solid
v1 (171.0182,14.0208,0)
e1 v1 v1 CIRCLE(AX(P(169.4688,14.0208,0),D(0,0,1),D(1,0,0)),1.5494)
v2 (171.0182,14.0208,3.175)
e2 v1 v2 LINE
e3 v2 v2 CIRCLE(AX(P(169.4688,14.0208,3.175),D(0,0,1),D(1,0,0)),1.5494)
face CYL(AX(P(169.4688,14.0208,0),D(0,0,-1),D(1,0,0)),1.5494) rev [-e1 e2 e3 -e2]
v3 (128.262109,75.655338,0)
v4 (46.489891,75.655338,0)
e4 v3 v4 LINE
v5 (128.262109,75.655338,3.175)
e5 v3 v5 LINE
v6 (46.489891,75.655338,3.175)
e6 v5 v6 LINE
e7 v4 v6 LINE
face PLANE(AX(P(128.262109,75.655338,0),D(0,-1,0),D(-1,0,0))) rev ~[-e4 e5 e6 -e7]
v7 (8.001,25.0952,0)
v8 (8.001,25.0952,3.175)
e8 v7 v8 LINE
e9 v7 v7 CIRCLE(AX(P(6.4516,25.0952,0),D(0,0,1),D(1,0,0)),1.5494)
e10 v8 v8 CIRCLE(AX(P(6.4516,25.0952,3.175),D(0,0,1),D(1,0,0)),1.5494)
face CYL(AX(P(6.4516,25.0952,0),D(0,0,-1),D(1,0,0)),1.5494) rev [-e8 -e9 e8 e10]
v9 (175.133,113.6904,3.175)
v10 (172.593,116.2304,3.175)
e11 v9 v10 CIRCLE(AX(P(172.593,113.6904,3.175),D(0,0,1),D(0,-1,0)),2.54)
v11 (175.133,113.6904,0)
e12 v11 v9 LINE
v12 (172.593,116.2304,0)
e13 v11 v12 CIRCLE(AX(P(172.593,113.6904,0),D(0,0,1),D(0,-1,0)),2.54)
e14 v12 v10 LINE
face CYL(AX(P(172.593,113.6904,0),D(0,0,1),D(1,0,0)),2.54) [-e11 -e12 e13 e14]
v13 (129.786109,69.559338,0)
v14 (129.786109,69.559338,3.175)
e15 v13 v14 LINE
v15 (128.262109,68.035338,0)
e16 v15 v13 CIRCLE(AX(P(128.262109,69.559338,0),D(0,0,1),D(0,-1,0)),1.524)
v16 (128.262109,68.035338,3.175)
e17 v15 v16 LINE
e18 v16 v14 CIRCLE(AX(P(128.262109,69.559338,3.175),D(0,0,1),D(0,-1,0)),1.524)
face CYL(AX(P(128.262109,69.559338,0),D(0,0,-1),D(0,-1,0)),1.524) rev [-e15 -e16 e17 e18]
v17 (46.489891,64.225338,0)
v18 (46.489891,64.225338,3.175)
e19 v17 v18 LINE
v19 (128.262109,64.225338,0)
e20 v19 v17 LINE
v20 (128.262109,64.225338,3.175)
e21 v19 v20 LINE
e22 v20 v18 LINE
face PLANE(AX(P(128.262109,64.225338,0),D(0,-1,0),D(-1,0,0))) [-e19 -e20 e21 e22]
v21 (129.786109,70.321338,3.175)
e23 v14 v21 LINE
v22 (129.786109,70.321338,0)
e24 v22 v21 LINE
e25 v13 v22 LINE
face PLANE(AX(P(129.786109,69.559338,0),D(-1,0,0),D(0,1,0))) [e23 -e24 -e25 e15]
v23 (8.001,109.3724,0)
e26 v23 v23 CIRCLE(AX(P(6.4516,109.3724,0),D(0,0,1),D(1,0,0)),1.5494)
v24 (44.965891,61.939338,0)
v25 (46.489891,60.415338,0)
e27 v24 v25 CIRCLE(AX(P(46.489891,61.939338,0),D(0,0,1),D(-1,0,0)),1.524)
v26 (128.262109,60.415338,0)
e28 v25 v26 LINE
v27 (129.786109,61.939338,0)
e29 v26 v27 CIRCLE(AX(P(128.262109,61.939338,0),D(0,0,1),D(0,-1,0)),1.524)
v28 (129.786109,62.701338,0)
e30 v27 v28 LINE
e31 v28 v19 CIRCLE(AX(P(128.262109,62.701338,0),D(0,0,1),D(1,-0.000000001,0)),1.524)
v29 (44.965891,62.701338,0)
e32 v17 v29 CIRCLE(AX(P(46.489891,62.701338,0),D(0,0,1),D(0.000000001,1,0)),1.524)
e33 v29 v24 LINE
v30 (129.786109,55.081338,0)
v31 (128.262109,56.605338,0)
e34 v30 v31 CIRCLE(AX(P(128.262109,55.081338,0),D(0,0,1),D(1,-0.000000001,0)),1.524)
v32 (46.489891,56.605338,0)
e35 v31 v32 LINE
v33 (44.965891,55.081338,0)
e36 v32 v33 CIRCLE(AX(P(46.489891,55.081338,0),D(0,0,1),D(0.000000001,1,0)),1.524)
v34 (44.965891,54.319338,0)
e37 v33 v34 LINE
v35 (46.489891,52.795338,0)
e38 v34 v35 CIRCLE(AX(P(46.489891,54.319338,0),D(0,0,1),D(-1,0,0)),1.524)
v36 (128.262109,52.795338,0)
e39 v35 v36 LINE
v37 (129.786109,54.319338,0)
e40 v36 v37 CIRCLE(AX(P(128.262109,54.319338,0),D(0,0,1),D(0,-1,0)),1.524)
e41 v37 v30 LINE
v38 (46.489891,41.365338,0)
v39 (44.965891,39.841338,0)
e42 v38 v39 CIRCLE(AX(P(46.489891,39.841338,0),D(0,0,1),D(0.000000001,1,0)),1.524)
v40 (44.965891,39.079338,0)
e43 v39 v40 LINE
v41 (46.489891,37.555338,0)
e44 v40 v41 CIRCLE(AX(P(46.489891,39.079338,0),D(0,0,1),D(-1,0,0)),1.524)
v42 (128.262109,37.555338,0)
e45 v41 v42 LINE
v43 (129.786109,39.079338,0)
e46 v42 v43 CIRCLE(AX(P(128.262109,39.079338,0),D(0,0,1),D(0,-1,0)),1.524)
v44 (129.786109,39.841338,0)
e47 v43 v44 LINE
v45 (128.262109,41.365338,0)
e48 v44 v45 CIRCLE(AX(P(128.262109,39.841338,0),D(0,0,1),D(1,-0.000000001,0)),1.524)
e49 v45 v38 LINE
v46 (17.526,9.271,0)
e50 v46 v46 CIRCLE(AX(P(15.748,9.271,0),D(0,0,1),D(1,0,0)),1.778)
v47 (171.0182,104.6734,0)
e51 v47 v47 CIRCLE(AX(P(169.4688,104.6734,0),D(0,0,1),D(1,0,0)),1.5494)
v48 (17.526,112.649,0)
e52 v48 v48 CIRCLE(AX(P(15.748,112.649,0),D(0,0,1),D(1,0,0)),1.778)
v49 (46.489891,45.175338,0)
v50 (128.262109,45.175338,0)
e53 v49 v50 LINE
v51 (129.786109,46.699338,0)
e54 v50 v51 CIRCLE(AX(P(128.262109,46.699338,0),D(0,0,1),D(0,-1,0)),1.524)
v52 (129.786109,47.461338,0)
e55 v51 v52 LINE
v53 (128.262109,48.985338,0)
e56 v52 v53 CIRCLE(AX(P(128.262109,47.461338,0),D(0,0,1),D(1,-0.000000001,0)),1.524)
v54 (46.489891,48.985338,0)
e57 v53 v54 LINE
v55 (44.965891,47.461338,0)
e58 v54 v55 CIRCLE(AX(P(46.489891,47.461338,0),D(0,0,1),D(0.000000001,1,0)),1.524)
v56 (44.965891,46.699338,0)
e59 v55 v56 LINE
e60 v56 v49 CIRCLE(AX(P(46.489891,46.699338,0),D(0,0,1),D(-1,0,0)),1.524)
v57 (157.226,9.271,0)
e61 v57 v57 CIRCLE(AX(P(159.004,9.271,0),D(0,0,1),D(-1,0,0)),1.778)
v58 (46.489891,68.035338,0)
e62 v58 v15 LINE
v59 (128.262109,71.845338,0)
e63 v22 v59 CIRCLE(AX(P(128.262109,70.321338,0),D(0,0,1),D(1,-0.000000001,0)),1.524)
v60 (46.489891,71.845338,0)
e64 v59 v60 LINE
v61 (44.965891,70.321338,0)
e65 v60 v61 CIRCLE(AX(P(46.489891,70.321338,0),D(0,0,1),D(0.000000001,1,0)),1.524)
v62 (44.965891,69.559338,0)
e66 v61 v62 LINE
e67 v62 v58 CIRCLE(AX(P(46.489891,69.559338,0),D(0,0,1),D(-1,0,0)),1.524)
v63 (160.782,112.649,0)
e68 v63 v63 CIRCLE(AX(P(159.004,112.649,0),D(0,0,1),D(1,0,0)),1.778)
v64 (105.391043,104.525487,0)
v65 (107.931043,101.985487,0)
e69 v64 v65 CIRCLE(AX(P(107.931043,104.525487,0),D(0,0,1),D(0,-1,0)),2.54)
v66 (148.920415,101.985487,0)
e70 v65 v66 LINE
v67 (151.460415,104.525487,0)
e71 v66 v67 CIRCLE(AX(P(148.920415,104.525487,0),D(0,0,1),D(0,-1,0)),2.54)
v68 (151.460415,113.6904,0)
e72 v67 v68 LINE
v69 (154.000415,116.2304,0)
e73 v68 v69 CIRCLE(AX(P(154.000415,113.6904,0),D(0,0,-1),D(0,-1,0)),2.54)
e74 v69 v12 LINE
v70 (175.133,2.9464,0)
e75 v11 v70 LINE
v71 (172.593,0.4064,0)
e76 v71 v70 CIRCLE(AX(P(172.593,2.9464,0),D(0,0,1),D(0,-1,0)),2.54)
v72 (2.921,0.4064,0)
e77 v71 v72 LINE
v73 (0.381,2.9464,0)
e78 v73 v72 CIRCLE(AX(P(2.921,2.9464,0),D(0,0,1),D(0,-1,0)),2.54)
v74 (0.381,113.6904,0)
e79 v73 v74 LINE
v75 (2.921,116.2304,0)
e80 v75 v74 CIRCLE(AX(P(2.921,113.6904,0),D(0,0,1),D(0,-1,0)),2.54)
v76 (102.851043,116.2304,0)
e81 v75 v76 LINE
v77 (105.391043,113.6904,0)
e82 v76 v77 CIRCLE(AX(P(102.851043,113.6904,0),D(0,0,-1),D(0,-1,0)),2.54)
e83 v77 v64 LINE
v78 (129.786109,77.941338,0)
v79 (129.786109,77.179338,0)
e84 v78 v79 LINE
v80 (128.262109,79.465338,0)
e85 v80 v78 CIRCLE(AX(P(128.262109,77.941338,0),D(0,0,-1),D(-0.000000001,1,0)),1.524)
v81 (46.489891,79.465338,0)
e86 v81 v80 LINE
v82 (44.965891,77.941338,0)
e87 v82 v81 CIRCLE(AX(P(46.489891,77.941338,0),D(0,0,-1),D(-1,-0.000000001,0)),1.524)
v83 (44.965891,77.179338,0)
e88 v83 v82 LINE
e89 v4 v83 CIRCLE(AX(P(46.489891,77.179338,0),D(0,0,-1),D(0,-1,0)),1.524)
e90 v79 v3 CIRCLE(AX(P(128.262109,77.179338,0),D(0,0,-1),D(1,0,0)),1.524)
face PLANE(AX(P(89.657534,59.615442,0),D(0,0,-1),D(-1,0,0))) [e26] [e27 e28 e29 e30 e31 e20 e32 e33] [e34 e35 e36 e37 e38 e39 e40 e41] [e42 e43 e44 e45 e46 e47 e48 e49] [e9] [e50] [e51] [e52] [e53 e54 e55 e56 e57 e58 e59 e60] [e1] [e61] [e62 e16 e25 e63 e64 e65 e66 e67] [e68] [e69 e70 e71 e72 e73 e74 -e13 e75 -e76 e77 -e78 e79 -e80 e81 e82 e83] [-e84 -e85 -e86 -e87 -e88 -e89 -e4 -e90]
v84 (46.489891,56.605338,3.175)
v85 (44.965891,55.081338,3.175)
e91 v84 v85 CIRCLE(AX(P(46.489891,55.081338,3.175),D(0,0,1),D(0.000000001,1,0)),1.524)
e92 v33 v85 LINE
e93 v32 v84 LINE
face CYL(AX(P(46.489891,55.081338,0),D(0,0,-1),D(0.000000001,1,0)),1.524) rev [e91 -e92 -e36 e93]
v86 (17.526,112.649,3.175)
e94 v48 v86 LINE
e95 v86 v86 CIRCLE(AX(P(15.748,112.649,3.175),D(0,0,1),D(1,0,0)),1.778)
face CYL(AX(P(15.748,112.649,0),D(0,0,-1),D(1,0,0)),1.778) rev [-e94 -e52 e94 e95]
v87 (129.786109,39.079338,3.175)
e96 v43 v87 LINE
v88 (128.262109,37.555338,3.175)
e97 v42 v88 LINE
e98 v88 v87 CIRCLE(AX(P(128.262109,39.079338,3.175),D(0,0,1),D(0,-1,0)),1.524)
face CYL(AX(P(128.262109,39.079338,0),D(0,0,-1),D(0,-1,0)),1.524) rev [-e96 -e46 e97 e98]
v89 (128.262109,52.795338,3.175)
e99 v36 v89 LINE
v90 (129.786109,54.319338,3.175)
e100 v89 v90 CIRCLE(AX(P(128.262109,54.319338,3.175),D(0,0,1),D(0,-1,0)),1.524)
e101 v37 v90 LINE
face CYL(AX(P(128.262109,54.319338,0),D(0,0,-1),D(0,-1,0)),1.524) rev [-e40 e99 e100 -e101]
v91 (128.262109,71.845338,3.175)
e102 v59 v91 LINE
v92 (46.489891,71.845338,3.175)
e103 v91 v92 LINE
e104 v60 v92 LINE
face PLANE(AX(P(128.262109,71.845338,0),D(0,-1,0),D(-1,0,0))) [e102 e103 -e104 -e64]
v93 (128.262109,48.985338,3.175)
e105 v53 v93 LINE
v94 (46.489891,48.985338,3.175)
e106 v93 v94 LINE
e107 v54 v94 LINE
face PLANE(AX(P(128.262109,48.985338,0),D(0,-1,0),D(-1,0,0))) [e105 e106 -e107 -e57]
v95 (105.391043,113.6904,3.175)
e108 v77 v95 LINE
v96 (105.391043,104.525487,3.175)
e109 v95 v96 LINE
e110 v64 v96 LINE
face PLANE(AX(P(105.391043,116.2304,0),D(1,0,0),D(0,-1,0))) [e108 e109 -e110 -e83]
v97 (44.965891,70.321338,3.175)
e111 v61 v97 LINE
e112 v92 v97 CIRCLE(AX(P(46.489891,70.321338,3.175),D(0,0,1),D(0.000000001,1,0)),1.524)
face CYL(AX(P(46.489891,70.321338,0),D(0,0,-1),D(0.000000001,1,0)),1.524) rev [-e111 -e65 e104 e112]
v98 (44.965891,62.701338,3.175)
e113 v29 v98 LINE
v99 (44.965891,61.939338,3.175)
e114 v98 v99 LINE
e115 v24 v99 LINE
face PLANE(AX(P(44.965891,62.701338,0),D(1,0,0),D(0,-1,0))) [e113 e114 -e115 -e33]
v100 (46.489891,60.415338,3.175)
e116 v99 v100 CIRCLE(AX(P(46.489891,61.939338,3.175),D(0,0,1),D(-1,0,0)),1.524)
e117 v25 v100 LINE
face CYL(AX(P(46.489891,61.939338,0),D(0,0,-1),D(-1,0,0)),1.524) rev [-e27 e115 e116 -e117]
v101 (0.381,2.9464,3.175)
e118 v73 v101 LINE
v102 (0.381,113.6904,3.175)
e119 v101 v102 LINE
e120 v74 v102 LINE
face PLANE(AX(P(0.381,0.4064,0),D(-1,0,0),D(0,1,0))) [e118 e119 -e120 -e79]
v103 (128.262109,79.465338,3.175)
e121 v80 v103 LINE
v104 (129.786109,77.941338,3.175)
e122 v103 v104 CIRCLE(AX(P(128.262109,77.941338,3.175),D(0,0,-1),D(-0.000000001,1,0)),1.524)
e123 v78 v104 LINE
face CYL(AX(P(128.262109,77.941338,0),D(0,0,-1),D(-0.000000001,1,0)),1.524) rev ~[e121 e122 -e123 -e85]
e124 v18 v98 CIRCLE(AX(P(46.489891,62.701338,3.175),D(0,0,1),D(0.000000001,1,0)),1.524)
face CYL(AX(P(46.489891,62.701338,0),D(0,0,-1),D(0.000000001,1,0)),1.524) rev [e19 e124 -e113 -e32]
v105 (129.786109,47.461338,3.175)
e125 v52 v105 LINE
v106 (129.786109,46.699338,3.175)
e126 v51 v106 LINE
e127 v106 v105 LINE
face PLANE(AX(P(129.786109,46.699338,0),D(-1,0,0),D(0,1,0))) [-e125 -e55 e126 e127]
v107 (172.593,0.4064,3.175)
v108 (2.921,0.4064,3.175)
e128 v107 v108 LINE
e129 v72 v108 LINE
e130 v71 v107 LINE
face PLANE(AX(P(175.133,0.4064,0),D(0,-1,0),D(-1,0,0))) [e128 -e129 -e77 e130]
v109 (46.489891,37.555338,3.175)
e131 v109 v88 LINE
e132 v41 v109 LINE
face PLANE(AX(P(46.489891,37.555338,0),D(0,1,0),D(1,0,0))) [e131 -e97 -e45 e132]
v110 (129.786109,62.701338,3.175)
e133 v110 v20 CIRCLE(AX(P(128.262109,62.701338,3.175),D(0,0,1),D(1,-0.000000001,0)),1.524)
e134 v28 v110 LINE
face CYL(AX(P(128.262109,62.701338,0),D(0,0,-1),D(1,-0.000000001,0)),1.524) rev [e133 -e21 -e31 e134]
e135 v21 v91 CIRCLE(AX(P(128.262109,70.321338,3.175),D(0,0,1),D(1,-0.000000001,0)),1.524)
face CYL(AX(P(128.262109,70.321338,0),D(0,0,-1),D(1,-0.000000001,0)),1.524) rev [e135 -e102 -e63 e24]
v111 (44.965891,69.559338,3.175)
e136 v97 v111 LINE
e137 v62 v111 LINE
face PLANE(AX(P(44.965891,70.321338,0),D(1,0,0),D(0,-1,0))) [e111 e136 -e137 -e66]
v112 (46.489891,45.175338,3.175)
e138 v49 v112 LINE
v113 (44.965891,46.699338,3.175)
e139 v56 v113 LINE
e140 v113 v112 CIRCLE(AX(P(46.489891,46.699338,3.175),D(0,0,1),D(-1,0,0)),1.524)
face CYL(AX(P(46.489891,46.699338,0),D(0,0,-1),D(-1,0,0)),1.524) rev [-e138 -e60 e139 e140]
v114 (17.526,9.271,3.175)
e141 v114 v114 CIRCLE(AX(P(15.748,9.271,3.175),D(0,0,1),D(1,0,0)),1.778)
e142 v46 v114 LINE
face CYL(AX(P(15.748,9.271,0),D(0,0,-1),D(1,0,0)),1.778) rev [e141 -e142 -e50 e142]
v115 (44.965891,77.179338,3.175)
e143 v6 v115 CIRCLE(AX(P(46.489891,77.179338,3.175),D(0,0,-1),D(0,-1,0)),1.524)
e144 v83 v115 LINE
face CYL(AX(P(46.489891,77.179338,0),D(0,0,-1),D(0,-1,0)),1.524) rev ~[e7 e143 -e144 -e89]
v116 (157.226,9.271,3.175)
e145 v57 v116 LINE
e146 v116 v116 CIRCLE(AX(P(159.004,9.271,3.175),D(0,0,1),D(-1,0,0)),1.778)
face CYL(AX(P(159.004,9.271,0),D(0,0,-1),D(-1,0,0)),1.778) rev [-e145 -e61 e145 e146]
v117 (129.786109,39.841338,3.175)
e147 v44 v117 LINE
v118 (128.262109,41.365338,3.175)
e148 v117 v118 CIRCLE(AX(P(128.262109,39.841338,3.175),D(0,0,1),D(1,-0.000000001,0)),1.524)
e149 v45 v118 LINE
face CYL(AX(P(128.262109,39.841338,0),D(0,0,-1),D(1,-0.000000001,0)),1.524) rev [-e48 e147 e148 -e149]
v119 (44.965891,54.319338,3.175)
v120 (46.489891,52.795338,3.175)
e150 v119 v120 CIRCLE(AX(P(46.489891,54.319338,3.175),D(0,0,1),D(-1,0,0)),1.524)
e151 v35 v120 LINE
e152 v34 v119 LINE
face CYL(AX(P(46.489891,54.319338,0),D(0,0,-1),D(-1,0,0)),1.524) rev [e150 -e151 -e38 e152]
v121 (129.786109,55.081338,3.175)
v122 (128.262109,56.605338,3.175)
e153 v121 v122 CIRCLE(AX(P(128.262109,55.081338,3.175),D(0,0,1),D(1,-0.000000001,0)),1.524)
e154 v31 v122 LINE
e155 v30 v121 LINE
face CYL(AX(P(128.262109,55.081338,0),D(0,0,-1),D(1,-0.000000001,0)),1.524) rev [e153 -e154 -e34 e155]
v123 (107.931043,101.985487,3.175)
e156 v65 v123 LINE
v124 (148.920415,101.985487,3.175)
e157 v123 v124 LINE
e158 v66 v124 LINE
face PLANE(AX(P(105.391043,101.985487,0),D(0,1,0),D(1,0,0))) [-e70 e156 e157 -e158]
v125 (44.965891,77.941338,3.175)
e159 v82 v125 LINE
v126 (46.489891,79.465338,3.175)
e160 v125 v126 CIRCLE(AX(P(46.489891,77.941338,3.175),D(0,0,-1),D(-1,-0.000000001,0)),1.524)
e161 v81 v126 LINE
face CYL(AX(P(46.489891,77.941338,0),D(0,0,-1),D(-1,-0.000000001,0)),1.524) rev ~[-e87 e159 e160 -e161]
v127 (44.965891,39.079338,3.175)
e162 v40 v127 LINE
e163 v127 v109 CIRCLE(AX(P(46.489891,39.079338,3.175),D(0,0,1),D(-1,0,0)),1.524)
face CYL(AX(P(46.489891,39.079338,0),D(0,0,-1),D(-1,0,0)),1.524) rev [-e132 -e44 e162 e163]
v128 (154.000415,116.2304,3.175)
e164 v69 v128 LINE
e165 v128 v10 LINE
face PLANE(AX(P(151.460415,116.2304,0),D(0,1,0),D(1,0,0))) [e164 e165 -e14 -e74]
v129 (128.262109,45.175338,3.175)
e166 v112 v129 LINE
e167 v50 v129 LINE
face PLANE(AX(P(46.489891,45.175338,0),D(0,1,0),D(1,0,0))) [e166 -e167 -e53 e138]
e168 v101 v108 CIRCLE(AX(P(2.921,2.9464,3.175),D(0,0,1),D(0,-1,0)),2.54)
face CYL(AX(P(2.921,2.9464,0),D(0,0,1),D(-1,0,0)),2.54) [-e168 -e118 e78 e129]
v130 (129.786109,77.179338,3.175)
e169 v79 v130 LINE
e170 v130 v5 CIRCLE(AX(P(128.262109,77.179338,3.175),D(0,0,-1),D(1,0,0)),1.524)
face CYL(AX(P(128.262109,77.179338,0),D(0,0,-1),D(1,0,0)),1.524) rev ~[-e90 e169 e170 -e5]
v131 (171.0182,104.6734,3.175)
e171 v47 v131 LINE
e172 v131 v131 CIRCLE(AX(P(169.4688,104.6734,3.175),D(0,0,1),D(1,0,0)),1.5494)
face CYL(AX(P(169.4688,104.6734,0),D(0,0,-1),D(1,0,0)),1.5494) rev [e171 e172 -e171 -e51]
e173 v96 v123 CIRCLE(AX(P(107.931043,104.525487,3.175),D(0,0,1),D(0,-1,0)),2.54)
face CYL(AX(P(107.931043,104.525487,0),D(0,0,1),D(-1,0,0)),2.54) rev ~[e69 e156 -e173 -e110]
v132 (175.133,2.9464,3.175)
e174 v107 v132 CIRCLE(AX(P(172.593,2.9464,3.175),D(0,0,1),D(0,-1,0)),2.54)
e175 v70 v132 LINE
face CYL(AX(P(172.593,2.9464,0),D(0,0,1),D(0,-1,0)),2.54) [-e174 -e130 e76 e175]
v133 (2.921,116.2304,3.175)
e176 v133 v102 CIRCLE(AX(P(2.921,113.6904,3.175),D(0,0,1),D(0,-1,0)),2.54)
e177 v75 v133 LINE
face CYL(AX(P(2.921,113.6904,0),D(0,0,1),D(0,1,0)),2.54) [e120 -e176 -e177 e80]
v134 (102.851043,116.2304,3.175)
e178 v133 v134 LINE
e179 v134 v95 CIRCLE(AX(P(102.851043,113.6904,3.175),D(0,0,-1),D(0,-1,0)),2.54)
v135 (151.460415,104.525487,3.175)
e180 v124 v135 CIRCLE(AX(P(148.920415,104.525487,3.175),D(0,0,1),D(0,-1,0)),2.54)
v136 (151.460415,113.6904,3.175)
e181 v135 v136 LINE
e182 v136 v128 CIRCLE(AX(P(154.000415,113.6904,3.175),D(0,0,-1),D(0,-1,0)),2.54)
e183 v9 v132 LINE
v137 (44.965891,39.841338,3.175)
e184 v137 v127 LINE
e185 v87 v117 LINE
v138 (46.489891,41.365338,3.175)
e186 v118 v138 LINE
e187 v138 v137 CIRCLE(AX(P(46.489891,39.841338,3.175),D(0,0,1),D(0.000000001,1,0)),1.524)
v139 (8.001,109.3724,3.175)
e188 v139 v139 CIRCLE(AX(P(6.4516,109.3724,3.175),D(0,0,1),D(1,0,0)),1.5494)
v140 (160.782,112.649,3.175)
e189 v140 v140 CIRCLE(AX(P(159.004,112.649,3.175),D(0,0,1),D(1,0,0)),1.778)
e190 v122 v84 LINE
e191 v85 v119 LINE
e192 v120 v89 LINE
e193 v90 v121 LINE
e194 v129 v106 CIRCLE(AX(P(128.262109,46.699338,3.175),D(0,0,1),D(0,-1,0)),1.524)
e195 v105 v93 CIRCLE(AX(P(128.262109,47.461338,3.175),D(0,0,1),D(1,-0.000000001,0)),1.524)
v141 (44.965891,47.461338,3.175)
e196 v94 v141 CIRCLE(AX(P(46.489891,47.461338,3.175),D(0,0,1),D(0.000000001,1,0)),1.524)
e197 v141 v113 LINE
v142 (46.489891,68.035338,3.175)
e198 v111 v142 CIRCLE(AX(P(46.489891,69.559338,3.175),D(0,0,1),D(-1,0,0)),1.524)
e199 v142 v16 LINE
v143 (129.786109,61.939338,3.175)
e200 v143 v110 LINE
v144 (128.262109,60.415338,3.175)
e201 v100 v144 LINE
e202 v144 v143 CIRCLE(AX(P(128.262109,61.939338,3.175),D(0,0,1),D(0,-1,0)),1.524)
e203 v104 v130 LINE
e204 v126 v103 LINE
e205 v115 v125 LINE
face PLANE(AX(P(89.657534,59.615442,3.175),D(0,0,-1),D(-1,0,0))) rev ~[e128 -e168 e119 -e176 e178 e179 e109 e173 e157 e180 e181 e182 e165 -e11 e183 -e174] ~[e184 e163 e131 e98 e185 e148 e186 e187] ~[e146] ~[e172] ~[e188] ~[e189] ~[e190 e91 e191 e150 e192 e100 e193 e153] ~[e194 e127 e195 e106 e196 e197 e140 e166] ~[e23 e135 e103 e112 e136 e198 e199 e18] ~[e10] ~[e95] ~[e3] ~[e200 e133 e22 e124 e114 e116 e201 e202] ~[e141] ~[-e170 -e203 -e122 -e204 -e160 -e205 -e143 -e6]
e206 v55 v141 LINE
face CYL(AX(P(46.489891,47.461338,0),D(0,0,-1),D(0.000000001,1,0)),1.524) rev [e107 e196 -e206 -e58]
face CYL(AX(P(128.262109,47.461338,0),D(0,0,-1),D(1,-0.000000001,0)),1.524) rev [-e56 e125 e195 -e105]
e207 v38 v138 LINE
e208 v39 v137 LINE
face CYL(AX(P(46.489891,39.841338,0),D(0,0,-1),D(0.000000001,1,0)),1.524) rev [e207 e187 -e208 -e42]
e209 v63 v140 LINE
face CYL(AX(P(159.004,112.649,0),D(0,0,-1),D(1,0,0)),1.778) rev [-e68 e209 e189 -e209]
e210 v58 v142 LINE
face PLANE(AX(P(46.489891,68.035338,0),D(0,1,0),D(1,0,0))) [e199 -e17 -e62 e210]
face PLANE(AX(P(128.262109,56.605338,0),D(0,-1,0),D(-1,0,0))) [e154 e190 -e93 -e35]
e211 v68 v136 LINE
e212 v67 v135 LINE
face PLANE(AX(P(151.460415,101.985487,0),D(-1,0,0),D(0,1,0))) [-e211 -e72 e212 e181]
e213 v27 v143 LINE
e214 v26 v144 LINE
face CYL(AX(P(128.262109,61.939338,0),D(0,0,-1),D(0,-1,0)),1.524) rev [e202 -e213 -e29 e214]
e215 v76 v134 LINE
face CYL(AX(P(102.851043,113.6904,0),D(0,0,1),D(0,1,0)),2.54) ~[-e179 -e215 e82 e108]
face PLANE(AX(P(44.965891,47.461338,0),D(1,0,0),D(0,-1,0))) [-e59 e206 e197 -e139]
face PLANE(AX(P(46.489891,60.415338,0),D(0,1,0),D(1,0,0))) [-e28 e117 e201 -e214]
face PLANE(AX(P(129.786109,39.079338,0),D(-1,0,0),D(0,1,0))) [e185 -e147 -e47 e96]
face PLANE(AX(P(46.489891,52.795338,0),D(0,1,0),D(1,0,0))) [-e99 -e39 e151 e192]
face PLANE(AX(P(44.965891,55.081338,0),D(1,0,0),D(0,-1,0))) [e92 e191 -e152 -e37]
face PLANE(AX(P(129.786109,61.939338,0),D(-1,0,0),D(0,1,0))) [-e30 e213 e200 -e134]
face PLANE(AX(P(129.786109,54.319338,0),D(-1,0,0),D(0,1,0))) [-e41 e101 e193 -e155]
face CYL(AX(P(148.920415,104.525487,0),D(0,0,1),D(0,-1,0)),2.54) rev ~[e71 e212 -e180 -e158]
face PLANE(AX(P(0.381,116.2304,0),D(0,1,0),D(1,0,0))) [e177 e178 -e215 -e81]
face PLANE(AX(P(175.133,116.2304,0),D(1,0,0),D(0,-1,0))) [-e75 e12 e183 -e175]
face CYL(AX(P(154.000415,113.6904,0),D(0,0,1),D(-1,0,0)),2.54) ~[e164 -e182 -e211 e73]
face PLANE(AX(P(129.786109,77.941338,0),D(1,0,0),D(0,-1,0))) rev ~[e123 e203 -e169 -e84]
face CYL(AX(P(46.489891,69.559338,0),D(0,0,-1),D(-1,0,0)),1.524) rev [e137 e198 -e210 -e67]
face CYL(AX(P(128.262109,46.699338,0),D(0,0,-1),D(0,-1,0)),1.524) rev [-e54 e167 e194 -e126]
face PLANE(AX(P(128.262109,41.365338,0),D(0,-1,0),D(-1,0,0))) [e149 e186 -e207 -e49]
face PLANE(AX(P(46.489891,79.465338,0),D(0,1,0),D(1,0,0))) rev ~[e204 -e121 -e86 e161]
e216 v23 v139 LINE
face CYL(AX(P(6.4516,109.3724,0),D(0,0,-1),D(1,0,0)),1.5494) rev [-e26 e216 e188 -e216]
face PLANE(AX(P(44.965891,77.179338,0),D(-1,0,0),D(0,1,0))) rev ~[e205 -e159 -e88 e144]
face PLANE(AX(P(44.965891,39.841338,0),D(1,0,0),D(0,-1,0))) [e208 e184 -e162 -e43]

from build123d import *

# Parameters (mm, degrees)
SKETCH1_R           = 1.5494
SKETCH1_R_2         = 1.778
BOSS_EXTRUDE1_DEPTH = 3.175
FILLET2_R           = 2.54
FILLET3_R           = 2.54


with BuildPart() as part:
    # Sketch1 → Boss-Extrude1 (new body)
    with BuildSketch(Plane.XY):
        Polygon((0.381, 116.2304), (105.391042757, 116.2304), (105.391042757, 101.985486737), (151.460414906, 101.985486737), (151.460414906, 116.2304), (175.133, 116.2304), (175.133, 0.4064), (0.381, 0.4064), align=None)
        with Locations((6.4516, 109.3724)):
            Circle(SKETCH1_R, mode=Mode.SUBTRACT)
        with Locations((169.4688, 104.6734)):
            Circle(SKETCH1_R, mode=Mode.SUBTRACT)
        with Locations((169.4688, 14.0208)):
            Circle(SKETCH1_R, mode=Mode.SUBTRACT)
        with Locations((6.4516, 25.0952)):
            Circle(SKETCH1_R, mode=Mode.SUBTRACT)
        with Locations((15.748, 112.649)):
            Circle(SKETCH1_R_2, mode=Mode.SUBTRACT)
        with Locations((159.004, 112.649)):
            Circle(SKETCH1_R_2, mode=Mode.SUBTRACT)
        with Locations((15.748, 9.271)):
            Circle(SKETCH1_R_2, mode=Mode.SUBTRACT)
        with Locations(Location((159.004, 9.271, 0), (0, 0, 180))):
            Circle(SKETCH1_R_2, mode=Mode.SUBTRACT)
        with BuildLine():
            Line((44.96589092, 70.321337511), (44.96589092, 69.559337511))
            ThreePointArc((44.96589092, 69.559337511), (45.412260185, 68.481706777), (46.48989092, 68.035337511))
            Line((46.48989092, 68.035337511), (128.26210908, 68.035337511))
            ThreePointArc((128.26210908, 68.035337511), (129.339739815, 68.481706777), (129.78610908, 69.559337511))
            Line((129.78610908, 69.559337511), (129.78610908, 70.321337511))
            ThreePointArc((129.78610908, 70.321337511), (129.339739815, 71.398968246), (128.26210908, 71.845337511))
            Line((128.26210908, 71.845337511), (46.48989092, 71.845337511))
            ThreePointArc((46.48989092, 71.845337511), (45.412260185, 71.398968246), (44.96589092, 70.321337511))
        make_face(mode=Mode.SUBTRACT)
        with BuildLine():
            Line((46.48989092, 79.465337511), (128.26210908, 79.465337511))
            ThreePointArc((128.26210908, 79.465337511), (129.339739815, 79.018968246), (129.78610908, 77.941337511))
            Line((129.78610908, 77.941337511), (129.78610908, 77.179337511))
            ThreePointArc((129.78610908, 77.179337511), (129.339739815, 76.101706777), (128.26210908, 75.655337511))
            Line((128.26210908, 75.655337511), (46.48989092, 75.655337511))
            ThreePointArc((46.48989092, 75.655337511), (45.412260185, 76.101706777), (44.96589092, 77.179337511))
            Line((44.96589092, 77.179337511), (44.96589092, 77.941337511))
            ThreePointArc((44.96589092, 77.941337511), (45.412260185, 79.018968246), (46.48989092, 79.465337511))
        make_face(mode=Mode.SUBTRACT)
        with BuildLine():
            Line((44.96589092, 62.701337511), (44.96589092, 61.939337511))
            ThreePointArc((44.96589092, 61.939337511), (45.412260185, 60.861706777), (46.48989092, 60.415337511))
            Line((46.48989092, 60.415337511), (128.26210908, 60.415337511))
            ThreePointArc((128.26210908, 60.415337511), (129.339739815, 60.861706777), (129.78610908, 61.939337511))
            Line((129.78610908, 61.939337511), (129.78610908, 62.701337511))
            ThreePointArc((129.78610908, 62.701337511), (129.339739815, 63.778968246), (128.26210908, 64.225337511))
            Line((128.26210908, 64.225337511), (46.48989092, 64.225337511))
            ThreePointArc((46.48989092, 64.225337511), (45.412260185, 63.778968246), (44.96589092, 62.701337511))
        make_face(mode=Mode.SUBTRACT)
        with BuildLine():
            Line((44.96589092, 55.081337511), (44.96589092, 54.319337511))
            ThreePointArc((44.96589092, 54.319337511), (45.412260185, 53.241706777), (46.48989092, 52.795337511))
            Line((46.48989092, 52.795337511), (128.26210908, 52.795337511))
            ThreePointArc((128.26210908, 52.795337511), (129.339739815, 53.241706777), (129.78610908, 54.319337511))
            Line((129.78610908, 54.319337511), (129.78610908, 55.081337511))
            ThreePointArc((129.78610908, 55.081337511), (129.339739815, 56.158968246), (128.26210908, 56.605337511))
            Line((128.26210908, 56.605337511), (46.48989092, 56.605337511))
            ThreePointArc((46.48989092, 56.605337511), (45.412260185, 56.158968246), (44.96589092, 55.081337511))
        make_face(mode=Mode.SUBTRACT)
        with BuildLine():
            Line((44.96589092, 47.461337511), (44.96589092, 46.699337511))
            ThreePointArc((44.96589092, 46.699337511), (45.412260185, 45.621706777), (46.48989092, 45.175337511))
            Line((46.48989092, 45.175337511), (128.26210908, 45.175337511))
            ThreePointArc((128.26210908, 45.175337511), (129.339739815, 45.621706777), (129.78610908, 46.699337511))
            Line((129.78610908, 46.699337511), (129.78610908, 47.461337511))
            ThreePointArc((129.78610908, 47.461337511), (129.339739815, 48.538968246), (128.26210908, 48.985337511))
            Line((128.26210908, 48.985337511), (46.48989092, 48.985337511))
            ThreePointArc((46.48989092, 48.985337511), (45.412260185, 48.538968246), (44.96589092, 47.461337511))
        make_face(mode=Mode.SUBTRACT)
        with BuildLine():
            Line((44.96589092, 39.841337511), (44.96589092, 39.079337511))
            ThreePointArc((44.96589092, 39.079337511), (45.412260185, 38.001706777), (46.48989092, 37.555337511))
            Line((46.48989092, 37.555337511), (128.26210908, 37.555337511))
            ThreePointArc((128.26210908, 37.555337511), (129.339739815, 38.001706777), (129.78610908, 39.079337511))
            Line((129.78610908, 39.079337511), (129.78610908, 39.841337511))
            ThreePointArc((129.78610908, 39.841337511), (129.339739815, 40.918968246), (128.26210908, 41.365337511))
            Line((128.26210908, 41.365337511), (46.48989092, 41.365337511))
            ThreePointArc((46.48989092, 41.365337511), (45.412260185, 40.918968246), (44.96589092, 39.841337511))
        make_face(mode=Mode.SUBTRACT)
    extrude(amount=BOSS_EXTRUDE1_DEPTH)

    # Fillet2
    fillet2_edges = [part.edges().sort_by_distance(p)[0] for p in [
        (105.391042757, 116.2304, 1.5875),
        (105.391042757, 101.985486737, 1.5875),
        (151.460414906, 101.985486737, 1.5875),
        (151.460414906, 116.2304, 1.5875),
    ]]
    fillet(fillet2_edges, radius=FILLET2_R)

    # Fillet3
    fillet3_edges = [part.edges().sort_by_distance(p)[0] for p in [
        (0.381, 116.2304, 1.5875),
        (175.133, 116.2304, 1.5875),
        (175.133, 0.4064, 1.5875),
        (0.381, 0.4064, 1.5875),
    ]]
    fillet(fillet3_edges, radius=FILLET3_R)


solid = part.part
